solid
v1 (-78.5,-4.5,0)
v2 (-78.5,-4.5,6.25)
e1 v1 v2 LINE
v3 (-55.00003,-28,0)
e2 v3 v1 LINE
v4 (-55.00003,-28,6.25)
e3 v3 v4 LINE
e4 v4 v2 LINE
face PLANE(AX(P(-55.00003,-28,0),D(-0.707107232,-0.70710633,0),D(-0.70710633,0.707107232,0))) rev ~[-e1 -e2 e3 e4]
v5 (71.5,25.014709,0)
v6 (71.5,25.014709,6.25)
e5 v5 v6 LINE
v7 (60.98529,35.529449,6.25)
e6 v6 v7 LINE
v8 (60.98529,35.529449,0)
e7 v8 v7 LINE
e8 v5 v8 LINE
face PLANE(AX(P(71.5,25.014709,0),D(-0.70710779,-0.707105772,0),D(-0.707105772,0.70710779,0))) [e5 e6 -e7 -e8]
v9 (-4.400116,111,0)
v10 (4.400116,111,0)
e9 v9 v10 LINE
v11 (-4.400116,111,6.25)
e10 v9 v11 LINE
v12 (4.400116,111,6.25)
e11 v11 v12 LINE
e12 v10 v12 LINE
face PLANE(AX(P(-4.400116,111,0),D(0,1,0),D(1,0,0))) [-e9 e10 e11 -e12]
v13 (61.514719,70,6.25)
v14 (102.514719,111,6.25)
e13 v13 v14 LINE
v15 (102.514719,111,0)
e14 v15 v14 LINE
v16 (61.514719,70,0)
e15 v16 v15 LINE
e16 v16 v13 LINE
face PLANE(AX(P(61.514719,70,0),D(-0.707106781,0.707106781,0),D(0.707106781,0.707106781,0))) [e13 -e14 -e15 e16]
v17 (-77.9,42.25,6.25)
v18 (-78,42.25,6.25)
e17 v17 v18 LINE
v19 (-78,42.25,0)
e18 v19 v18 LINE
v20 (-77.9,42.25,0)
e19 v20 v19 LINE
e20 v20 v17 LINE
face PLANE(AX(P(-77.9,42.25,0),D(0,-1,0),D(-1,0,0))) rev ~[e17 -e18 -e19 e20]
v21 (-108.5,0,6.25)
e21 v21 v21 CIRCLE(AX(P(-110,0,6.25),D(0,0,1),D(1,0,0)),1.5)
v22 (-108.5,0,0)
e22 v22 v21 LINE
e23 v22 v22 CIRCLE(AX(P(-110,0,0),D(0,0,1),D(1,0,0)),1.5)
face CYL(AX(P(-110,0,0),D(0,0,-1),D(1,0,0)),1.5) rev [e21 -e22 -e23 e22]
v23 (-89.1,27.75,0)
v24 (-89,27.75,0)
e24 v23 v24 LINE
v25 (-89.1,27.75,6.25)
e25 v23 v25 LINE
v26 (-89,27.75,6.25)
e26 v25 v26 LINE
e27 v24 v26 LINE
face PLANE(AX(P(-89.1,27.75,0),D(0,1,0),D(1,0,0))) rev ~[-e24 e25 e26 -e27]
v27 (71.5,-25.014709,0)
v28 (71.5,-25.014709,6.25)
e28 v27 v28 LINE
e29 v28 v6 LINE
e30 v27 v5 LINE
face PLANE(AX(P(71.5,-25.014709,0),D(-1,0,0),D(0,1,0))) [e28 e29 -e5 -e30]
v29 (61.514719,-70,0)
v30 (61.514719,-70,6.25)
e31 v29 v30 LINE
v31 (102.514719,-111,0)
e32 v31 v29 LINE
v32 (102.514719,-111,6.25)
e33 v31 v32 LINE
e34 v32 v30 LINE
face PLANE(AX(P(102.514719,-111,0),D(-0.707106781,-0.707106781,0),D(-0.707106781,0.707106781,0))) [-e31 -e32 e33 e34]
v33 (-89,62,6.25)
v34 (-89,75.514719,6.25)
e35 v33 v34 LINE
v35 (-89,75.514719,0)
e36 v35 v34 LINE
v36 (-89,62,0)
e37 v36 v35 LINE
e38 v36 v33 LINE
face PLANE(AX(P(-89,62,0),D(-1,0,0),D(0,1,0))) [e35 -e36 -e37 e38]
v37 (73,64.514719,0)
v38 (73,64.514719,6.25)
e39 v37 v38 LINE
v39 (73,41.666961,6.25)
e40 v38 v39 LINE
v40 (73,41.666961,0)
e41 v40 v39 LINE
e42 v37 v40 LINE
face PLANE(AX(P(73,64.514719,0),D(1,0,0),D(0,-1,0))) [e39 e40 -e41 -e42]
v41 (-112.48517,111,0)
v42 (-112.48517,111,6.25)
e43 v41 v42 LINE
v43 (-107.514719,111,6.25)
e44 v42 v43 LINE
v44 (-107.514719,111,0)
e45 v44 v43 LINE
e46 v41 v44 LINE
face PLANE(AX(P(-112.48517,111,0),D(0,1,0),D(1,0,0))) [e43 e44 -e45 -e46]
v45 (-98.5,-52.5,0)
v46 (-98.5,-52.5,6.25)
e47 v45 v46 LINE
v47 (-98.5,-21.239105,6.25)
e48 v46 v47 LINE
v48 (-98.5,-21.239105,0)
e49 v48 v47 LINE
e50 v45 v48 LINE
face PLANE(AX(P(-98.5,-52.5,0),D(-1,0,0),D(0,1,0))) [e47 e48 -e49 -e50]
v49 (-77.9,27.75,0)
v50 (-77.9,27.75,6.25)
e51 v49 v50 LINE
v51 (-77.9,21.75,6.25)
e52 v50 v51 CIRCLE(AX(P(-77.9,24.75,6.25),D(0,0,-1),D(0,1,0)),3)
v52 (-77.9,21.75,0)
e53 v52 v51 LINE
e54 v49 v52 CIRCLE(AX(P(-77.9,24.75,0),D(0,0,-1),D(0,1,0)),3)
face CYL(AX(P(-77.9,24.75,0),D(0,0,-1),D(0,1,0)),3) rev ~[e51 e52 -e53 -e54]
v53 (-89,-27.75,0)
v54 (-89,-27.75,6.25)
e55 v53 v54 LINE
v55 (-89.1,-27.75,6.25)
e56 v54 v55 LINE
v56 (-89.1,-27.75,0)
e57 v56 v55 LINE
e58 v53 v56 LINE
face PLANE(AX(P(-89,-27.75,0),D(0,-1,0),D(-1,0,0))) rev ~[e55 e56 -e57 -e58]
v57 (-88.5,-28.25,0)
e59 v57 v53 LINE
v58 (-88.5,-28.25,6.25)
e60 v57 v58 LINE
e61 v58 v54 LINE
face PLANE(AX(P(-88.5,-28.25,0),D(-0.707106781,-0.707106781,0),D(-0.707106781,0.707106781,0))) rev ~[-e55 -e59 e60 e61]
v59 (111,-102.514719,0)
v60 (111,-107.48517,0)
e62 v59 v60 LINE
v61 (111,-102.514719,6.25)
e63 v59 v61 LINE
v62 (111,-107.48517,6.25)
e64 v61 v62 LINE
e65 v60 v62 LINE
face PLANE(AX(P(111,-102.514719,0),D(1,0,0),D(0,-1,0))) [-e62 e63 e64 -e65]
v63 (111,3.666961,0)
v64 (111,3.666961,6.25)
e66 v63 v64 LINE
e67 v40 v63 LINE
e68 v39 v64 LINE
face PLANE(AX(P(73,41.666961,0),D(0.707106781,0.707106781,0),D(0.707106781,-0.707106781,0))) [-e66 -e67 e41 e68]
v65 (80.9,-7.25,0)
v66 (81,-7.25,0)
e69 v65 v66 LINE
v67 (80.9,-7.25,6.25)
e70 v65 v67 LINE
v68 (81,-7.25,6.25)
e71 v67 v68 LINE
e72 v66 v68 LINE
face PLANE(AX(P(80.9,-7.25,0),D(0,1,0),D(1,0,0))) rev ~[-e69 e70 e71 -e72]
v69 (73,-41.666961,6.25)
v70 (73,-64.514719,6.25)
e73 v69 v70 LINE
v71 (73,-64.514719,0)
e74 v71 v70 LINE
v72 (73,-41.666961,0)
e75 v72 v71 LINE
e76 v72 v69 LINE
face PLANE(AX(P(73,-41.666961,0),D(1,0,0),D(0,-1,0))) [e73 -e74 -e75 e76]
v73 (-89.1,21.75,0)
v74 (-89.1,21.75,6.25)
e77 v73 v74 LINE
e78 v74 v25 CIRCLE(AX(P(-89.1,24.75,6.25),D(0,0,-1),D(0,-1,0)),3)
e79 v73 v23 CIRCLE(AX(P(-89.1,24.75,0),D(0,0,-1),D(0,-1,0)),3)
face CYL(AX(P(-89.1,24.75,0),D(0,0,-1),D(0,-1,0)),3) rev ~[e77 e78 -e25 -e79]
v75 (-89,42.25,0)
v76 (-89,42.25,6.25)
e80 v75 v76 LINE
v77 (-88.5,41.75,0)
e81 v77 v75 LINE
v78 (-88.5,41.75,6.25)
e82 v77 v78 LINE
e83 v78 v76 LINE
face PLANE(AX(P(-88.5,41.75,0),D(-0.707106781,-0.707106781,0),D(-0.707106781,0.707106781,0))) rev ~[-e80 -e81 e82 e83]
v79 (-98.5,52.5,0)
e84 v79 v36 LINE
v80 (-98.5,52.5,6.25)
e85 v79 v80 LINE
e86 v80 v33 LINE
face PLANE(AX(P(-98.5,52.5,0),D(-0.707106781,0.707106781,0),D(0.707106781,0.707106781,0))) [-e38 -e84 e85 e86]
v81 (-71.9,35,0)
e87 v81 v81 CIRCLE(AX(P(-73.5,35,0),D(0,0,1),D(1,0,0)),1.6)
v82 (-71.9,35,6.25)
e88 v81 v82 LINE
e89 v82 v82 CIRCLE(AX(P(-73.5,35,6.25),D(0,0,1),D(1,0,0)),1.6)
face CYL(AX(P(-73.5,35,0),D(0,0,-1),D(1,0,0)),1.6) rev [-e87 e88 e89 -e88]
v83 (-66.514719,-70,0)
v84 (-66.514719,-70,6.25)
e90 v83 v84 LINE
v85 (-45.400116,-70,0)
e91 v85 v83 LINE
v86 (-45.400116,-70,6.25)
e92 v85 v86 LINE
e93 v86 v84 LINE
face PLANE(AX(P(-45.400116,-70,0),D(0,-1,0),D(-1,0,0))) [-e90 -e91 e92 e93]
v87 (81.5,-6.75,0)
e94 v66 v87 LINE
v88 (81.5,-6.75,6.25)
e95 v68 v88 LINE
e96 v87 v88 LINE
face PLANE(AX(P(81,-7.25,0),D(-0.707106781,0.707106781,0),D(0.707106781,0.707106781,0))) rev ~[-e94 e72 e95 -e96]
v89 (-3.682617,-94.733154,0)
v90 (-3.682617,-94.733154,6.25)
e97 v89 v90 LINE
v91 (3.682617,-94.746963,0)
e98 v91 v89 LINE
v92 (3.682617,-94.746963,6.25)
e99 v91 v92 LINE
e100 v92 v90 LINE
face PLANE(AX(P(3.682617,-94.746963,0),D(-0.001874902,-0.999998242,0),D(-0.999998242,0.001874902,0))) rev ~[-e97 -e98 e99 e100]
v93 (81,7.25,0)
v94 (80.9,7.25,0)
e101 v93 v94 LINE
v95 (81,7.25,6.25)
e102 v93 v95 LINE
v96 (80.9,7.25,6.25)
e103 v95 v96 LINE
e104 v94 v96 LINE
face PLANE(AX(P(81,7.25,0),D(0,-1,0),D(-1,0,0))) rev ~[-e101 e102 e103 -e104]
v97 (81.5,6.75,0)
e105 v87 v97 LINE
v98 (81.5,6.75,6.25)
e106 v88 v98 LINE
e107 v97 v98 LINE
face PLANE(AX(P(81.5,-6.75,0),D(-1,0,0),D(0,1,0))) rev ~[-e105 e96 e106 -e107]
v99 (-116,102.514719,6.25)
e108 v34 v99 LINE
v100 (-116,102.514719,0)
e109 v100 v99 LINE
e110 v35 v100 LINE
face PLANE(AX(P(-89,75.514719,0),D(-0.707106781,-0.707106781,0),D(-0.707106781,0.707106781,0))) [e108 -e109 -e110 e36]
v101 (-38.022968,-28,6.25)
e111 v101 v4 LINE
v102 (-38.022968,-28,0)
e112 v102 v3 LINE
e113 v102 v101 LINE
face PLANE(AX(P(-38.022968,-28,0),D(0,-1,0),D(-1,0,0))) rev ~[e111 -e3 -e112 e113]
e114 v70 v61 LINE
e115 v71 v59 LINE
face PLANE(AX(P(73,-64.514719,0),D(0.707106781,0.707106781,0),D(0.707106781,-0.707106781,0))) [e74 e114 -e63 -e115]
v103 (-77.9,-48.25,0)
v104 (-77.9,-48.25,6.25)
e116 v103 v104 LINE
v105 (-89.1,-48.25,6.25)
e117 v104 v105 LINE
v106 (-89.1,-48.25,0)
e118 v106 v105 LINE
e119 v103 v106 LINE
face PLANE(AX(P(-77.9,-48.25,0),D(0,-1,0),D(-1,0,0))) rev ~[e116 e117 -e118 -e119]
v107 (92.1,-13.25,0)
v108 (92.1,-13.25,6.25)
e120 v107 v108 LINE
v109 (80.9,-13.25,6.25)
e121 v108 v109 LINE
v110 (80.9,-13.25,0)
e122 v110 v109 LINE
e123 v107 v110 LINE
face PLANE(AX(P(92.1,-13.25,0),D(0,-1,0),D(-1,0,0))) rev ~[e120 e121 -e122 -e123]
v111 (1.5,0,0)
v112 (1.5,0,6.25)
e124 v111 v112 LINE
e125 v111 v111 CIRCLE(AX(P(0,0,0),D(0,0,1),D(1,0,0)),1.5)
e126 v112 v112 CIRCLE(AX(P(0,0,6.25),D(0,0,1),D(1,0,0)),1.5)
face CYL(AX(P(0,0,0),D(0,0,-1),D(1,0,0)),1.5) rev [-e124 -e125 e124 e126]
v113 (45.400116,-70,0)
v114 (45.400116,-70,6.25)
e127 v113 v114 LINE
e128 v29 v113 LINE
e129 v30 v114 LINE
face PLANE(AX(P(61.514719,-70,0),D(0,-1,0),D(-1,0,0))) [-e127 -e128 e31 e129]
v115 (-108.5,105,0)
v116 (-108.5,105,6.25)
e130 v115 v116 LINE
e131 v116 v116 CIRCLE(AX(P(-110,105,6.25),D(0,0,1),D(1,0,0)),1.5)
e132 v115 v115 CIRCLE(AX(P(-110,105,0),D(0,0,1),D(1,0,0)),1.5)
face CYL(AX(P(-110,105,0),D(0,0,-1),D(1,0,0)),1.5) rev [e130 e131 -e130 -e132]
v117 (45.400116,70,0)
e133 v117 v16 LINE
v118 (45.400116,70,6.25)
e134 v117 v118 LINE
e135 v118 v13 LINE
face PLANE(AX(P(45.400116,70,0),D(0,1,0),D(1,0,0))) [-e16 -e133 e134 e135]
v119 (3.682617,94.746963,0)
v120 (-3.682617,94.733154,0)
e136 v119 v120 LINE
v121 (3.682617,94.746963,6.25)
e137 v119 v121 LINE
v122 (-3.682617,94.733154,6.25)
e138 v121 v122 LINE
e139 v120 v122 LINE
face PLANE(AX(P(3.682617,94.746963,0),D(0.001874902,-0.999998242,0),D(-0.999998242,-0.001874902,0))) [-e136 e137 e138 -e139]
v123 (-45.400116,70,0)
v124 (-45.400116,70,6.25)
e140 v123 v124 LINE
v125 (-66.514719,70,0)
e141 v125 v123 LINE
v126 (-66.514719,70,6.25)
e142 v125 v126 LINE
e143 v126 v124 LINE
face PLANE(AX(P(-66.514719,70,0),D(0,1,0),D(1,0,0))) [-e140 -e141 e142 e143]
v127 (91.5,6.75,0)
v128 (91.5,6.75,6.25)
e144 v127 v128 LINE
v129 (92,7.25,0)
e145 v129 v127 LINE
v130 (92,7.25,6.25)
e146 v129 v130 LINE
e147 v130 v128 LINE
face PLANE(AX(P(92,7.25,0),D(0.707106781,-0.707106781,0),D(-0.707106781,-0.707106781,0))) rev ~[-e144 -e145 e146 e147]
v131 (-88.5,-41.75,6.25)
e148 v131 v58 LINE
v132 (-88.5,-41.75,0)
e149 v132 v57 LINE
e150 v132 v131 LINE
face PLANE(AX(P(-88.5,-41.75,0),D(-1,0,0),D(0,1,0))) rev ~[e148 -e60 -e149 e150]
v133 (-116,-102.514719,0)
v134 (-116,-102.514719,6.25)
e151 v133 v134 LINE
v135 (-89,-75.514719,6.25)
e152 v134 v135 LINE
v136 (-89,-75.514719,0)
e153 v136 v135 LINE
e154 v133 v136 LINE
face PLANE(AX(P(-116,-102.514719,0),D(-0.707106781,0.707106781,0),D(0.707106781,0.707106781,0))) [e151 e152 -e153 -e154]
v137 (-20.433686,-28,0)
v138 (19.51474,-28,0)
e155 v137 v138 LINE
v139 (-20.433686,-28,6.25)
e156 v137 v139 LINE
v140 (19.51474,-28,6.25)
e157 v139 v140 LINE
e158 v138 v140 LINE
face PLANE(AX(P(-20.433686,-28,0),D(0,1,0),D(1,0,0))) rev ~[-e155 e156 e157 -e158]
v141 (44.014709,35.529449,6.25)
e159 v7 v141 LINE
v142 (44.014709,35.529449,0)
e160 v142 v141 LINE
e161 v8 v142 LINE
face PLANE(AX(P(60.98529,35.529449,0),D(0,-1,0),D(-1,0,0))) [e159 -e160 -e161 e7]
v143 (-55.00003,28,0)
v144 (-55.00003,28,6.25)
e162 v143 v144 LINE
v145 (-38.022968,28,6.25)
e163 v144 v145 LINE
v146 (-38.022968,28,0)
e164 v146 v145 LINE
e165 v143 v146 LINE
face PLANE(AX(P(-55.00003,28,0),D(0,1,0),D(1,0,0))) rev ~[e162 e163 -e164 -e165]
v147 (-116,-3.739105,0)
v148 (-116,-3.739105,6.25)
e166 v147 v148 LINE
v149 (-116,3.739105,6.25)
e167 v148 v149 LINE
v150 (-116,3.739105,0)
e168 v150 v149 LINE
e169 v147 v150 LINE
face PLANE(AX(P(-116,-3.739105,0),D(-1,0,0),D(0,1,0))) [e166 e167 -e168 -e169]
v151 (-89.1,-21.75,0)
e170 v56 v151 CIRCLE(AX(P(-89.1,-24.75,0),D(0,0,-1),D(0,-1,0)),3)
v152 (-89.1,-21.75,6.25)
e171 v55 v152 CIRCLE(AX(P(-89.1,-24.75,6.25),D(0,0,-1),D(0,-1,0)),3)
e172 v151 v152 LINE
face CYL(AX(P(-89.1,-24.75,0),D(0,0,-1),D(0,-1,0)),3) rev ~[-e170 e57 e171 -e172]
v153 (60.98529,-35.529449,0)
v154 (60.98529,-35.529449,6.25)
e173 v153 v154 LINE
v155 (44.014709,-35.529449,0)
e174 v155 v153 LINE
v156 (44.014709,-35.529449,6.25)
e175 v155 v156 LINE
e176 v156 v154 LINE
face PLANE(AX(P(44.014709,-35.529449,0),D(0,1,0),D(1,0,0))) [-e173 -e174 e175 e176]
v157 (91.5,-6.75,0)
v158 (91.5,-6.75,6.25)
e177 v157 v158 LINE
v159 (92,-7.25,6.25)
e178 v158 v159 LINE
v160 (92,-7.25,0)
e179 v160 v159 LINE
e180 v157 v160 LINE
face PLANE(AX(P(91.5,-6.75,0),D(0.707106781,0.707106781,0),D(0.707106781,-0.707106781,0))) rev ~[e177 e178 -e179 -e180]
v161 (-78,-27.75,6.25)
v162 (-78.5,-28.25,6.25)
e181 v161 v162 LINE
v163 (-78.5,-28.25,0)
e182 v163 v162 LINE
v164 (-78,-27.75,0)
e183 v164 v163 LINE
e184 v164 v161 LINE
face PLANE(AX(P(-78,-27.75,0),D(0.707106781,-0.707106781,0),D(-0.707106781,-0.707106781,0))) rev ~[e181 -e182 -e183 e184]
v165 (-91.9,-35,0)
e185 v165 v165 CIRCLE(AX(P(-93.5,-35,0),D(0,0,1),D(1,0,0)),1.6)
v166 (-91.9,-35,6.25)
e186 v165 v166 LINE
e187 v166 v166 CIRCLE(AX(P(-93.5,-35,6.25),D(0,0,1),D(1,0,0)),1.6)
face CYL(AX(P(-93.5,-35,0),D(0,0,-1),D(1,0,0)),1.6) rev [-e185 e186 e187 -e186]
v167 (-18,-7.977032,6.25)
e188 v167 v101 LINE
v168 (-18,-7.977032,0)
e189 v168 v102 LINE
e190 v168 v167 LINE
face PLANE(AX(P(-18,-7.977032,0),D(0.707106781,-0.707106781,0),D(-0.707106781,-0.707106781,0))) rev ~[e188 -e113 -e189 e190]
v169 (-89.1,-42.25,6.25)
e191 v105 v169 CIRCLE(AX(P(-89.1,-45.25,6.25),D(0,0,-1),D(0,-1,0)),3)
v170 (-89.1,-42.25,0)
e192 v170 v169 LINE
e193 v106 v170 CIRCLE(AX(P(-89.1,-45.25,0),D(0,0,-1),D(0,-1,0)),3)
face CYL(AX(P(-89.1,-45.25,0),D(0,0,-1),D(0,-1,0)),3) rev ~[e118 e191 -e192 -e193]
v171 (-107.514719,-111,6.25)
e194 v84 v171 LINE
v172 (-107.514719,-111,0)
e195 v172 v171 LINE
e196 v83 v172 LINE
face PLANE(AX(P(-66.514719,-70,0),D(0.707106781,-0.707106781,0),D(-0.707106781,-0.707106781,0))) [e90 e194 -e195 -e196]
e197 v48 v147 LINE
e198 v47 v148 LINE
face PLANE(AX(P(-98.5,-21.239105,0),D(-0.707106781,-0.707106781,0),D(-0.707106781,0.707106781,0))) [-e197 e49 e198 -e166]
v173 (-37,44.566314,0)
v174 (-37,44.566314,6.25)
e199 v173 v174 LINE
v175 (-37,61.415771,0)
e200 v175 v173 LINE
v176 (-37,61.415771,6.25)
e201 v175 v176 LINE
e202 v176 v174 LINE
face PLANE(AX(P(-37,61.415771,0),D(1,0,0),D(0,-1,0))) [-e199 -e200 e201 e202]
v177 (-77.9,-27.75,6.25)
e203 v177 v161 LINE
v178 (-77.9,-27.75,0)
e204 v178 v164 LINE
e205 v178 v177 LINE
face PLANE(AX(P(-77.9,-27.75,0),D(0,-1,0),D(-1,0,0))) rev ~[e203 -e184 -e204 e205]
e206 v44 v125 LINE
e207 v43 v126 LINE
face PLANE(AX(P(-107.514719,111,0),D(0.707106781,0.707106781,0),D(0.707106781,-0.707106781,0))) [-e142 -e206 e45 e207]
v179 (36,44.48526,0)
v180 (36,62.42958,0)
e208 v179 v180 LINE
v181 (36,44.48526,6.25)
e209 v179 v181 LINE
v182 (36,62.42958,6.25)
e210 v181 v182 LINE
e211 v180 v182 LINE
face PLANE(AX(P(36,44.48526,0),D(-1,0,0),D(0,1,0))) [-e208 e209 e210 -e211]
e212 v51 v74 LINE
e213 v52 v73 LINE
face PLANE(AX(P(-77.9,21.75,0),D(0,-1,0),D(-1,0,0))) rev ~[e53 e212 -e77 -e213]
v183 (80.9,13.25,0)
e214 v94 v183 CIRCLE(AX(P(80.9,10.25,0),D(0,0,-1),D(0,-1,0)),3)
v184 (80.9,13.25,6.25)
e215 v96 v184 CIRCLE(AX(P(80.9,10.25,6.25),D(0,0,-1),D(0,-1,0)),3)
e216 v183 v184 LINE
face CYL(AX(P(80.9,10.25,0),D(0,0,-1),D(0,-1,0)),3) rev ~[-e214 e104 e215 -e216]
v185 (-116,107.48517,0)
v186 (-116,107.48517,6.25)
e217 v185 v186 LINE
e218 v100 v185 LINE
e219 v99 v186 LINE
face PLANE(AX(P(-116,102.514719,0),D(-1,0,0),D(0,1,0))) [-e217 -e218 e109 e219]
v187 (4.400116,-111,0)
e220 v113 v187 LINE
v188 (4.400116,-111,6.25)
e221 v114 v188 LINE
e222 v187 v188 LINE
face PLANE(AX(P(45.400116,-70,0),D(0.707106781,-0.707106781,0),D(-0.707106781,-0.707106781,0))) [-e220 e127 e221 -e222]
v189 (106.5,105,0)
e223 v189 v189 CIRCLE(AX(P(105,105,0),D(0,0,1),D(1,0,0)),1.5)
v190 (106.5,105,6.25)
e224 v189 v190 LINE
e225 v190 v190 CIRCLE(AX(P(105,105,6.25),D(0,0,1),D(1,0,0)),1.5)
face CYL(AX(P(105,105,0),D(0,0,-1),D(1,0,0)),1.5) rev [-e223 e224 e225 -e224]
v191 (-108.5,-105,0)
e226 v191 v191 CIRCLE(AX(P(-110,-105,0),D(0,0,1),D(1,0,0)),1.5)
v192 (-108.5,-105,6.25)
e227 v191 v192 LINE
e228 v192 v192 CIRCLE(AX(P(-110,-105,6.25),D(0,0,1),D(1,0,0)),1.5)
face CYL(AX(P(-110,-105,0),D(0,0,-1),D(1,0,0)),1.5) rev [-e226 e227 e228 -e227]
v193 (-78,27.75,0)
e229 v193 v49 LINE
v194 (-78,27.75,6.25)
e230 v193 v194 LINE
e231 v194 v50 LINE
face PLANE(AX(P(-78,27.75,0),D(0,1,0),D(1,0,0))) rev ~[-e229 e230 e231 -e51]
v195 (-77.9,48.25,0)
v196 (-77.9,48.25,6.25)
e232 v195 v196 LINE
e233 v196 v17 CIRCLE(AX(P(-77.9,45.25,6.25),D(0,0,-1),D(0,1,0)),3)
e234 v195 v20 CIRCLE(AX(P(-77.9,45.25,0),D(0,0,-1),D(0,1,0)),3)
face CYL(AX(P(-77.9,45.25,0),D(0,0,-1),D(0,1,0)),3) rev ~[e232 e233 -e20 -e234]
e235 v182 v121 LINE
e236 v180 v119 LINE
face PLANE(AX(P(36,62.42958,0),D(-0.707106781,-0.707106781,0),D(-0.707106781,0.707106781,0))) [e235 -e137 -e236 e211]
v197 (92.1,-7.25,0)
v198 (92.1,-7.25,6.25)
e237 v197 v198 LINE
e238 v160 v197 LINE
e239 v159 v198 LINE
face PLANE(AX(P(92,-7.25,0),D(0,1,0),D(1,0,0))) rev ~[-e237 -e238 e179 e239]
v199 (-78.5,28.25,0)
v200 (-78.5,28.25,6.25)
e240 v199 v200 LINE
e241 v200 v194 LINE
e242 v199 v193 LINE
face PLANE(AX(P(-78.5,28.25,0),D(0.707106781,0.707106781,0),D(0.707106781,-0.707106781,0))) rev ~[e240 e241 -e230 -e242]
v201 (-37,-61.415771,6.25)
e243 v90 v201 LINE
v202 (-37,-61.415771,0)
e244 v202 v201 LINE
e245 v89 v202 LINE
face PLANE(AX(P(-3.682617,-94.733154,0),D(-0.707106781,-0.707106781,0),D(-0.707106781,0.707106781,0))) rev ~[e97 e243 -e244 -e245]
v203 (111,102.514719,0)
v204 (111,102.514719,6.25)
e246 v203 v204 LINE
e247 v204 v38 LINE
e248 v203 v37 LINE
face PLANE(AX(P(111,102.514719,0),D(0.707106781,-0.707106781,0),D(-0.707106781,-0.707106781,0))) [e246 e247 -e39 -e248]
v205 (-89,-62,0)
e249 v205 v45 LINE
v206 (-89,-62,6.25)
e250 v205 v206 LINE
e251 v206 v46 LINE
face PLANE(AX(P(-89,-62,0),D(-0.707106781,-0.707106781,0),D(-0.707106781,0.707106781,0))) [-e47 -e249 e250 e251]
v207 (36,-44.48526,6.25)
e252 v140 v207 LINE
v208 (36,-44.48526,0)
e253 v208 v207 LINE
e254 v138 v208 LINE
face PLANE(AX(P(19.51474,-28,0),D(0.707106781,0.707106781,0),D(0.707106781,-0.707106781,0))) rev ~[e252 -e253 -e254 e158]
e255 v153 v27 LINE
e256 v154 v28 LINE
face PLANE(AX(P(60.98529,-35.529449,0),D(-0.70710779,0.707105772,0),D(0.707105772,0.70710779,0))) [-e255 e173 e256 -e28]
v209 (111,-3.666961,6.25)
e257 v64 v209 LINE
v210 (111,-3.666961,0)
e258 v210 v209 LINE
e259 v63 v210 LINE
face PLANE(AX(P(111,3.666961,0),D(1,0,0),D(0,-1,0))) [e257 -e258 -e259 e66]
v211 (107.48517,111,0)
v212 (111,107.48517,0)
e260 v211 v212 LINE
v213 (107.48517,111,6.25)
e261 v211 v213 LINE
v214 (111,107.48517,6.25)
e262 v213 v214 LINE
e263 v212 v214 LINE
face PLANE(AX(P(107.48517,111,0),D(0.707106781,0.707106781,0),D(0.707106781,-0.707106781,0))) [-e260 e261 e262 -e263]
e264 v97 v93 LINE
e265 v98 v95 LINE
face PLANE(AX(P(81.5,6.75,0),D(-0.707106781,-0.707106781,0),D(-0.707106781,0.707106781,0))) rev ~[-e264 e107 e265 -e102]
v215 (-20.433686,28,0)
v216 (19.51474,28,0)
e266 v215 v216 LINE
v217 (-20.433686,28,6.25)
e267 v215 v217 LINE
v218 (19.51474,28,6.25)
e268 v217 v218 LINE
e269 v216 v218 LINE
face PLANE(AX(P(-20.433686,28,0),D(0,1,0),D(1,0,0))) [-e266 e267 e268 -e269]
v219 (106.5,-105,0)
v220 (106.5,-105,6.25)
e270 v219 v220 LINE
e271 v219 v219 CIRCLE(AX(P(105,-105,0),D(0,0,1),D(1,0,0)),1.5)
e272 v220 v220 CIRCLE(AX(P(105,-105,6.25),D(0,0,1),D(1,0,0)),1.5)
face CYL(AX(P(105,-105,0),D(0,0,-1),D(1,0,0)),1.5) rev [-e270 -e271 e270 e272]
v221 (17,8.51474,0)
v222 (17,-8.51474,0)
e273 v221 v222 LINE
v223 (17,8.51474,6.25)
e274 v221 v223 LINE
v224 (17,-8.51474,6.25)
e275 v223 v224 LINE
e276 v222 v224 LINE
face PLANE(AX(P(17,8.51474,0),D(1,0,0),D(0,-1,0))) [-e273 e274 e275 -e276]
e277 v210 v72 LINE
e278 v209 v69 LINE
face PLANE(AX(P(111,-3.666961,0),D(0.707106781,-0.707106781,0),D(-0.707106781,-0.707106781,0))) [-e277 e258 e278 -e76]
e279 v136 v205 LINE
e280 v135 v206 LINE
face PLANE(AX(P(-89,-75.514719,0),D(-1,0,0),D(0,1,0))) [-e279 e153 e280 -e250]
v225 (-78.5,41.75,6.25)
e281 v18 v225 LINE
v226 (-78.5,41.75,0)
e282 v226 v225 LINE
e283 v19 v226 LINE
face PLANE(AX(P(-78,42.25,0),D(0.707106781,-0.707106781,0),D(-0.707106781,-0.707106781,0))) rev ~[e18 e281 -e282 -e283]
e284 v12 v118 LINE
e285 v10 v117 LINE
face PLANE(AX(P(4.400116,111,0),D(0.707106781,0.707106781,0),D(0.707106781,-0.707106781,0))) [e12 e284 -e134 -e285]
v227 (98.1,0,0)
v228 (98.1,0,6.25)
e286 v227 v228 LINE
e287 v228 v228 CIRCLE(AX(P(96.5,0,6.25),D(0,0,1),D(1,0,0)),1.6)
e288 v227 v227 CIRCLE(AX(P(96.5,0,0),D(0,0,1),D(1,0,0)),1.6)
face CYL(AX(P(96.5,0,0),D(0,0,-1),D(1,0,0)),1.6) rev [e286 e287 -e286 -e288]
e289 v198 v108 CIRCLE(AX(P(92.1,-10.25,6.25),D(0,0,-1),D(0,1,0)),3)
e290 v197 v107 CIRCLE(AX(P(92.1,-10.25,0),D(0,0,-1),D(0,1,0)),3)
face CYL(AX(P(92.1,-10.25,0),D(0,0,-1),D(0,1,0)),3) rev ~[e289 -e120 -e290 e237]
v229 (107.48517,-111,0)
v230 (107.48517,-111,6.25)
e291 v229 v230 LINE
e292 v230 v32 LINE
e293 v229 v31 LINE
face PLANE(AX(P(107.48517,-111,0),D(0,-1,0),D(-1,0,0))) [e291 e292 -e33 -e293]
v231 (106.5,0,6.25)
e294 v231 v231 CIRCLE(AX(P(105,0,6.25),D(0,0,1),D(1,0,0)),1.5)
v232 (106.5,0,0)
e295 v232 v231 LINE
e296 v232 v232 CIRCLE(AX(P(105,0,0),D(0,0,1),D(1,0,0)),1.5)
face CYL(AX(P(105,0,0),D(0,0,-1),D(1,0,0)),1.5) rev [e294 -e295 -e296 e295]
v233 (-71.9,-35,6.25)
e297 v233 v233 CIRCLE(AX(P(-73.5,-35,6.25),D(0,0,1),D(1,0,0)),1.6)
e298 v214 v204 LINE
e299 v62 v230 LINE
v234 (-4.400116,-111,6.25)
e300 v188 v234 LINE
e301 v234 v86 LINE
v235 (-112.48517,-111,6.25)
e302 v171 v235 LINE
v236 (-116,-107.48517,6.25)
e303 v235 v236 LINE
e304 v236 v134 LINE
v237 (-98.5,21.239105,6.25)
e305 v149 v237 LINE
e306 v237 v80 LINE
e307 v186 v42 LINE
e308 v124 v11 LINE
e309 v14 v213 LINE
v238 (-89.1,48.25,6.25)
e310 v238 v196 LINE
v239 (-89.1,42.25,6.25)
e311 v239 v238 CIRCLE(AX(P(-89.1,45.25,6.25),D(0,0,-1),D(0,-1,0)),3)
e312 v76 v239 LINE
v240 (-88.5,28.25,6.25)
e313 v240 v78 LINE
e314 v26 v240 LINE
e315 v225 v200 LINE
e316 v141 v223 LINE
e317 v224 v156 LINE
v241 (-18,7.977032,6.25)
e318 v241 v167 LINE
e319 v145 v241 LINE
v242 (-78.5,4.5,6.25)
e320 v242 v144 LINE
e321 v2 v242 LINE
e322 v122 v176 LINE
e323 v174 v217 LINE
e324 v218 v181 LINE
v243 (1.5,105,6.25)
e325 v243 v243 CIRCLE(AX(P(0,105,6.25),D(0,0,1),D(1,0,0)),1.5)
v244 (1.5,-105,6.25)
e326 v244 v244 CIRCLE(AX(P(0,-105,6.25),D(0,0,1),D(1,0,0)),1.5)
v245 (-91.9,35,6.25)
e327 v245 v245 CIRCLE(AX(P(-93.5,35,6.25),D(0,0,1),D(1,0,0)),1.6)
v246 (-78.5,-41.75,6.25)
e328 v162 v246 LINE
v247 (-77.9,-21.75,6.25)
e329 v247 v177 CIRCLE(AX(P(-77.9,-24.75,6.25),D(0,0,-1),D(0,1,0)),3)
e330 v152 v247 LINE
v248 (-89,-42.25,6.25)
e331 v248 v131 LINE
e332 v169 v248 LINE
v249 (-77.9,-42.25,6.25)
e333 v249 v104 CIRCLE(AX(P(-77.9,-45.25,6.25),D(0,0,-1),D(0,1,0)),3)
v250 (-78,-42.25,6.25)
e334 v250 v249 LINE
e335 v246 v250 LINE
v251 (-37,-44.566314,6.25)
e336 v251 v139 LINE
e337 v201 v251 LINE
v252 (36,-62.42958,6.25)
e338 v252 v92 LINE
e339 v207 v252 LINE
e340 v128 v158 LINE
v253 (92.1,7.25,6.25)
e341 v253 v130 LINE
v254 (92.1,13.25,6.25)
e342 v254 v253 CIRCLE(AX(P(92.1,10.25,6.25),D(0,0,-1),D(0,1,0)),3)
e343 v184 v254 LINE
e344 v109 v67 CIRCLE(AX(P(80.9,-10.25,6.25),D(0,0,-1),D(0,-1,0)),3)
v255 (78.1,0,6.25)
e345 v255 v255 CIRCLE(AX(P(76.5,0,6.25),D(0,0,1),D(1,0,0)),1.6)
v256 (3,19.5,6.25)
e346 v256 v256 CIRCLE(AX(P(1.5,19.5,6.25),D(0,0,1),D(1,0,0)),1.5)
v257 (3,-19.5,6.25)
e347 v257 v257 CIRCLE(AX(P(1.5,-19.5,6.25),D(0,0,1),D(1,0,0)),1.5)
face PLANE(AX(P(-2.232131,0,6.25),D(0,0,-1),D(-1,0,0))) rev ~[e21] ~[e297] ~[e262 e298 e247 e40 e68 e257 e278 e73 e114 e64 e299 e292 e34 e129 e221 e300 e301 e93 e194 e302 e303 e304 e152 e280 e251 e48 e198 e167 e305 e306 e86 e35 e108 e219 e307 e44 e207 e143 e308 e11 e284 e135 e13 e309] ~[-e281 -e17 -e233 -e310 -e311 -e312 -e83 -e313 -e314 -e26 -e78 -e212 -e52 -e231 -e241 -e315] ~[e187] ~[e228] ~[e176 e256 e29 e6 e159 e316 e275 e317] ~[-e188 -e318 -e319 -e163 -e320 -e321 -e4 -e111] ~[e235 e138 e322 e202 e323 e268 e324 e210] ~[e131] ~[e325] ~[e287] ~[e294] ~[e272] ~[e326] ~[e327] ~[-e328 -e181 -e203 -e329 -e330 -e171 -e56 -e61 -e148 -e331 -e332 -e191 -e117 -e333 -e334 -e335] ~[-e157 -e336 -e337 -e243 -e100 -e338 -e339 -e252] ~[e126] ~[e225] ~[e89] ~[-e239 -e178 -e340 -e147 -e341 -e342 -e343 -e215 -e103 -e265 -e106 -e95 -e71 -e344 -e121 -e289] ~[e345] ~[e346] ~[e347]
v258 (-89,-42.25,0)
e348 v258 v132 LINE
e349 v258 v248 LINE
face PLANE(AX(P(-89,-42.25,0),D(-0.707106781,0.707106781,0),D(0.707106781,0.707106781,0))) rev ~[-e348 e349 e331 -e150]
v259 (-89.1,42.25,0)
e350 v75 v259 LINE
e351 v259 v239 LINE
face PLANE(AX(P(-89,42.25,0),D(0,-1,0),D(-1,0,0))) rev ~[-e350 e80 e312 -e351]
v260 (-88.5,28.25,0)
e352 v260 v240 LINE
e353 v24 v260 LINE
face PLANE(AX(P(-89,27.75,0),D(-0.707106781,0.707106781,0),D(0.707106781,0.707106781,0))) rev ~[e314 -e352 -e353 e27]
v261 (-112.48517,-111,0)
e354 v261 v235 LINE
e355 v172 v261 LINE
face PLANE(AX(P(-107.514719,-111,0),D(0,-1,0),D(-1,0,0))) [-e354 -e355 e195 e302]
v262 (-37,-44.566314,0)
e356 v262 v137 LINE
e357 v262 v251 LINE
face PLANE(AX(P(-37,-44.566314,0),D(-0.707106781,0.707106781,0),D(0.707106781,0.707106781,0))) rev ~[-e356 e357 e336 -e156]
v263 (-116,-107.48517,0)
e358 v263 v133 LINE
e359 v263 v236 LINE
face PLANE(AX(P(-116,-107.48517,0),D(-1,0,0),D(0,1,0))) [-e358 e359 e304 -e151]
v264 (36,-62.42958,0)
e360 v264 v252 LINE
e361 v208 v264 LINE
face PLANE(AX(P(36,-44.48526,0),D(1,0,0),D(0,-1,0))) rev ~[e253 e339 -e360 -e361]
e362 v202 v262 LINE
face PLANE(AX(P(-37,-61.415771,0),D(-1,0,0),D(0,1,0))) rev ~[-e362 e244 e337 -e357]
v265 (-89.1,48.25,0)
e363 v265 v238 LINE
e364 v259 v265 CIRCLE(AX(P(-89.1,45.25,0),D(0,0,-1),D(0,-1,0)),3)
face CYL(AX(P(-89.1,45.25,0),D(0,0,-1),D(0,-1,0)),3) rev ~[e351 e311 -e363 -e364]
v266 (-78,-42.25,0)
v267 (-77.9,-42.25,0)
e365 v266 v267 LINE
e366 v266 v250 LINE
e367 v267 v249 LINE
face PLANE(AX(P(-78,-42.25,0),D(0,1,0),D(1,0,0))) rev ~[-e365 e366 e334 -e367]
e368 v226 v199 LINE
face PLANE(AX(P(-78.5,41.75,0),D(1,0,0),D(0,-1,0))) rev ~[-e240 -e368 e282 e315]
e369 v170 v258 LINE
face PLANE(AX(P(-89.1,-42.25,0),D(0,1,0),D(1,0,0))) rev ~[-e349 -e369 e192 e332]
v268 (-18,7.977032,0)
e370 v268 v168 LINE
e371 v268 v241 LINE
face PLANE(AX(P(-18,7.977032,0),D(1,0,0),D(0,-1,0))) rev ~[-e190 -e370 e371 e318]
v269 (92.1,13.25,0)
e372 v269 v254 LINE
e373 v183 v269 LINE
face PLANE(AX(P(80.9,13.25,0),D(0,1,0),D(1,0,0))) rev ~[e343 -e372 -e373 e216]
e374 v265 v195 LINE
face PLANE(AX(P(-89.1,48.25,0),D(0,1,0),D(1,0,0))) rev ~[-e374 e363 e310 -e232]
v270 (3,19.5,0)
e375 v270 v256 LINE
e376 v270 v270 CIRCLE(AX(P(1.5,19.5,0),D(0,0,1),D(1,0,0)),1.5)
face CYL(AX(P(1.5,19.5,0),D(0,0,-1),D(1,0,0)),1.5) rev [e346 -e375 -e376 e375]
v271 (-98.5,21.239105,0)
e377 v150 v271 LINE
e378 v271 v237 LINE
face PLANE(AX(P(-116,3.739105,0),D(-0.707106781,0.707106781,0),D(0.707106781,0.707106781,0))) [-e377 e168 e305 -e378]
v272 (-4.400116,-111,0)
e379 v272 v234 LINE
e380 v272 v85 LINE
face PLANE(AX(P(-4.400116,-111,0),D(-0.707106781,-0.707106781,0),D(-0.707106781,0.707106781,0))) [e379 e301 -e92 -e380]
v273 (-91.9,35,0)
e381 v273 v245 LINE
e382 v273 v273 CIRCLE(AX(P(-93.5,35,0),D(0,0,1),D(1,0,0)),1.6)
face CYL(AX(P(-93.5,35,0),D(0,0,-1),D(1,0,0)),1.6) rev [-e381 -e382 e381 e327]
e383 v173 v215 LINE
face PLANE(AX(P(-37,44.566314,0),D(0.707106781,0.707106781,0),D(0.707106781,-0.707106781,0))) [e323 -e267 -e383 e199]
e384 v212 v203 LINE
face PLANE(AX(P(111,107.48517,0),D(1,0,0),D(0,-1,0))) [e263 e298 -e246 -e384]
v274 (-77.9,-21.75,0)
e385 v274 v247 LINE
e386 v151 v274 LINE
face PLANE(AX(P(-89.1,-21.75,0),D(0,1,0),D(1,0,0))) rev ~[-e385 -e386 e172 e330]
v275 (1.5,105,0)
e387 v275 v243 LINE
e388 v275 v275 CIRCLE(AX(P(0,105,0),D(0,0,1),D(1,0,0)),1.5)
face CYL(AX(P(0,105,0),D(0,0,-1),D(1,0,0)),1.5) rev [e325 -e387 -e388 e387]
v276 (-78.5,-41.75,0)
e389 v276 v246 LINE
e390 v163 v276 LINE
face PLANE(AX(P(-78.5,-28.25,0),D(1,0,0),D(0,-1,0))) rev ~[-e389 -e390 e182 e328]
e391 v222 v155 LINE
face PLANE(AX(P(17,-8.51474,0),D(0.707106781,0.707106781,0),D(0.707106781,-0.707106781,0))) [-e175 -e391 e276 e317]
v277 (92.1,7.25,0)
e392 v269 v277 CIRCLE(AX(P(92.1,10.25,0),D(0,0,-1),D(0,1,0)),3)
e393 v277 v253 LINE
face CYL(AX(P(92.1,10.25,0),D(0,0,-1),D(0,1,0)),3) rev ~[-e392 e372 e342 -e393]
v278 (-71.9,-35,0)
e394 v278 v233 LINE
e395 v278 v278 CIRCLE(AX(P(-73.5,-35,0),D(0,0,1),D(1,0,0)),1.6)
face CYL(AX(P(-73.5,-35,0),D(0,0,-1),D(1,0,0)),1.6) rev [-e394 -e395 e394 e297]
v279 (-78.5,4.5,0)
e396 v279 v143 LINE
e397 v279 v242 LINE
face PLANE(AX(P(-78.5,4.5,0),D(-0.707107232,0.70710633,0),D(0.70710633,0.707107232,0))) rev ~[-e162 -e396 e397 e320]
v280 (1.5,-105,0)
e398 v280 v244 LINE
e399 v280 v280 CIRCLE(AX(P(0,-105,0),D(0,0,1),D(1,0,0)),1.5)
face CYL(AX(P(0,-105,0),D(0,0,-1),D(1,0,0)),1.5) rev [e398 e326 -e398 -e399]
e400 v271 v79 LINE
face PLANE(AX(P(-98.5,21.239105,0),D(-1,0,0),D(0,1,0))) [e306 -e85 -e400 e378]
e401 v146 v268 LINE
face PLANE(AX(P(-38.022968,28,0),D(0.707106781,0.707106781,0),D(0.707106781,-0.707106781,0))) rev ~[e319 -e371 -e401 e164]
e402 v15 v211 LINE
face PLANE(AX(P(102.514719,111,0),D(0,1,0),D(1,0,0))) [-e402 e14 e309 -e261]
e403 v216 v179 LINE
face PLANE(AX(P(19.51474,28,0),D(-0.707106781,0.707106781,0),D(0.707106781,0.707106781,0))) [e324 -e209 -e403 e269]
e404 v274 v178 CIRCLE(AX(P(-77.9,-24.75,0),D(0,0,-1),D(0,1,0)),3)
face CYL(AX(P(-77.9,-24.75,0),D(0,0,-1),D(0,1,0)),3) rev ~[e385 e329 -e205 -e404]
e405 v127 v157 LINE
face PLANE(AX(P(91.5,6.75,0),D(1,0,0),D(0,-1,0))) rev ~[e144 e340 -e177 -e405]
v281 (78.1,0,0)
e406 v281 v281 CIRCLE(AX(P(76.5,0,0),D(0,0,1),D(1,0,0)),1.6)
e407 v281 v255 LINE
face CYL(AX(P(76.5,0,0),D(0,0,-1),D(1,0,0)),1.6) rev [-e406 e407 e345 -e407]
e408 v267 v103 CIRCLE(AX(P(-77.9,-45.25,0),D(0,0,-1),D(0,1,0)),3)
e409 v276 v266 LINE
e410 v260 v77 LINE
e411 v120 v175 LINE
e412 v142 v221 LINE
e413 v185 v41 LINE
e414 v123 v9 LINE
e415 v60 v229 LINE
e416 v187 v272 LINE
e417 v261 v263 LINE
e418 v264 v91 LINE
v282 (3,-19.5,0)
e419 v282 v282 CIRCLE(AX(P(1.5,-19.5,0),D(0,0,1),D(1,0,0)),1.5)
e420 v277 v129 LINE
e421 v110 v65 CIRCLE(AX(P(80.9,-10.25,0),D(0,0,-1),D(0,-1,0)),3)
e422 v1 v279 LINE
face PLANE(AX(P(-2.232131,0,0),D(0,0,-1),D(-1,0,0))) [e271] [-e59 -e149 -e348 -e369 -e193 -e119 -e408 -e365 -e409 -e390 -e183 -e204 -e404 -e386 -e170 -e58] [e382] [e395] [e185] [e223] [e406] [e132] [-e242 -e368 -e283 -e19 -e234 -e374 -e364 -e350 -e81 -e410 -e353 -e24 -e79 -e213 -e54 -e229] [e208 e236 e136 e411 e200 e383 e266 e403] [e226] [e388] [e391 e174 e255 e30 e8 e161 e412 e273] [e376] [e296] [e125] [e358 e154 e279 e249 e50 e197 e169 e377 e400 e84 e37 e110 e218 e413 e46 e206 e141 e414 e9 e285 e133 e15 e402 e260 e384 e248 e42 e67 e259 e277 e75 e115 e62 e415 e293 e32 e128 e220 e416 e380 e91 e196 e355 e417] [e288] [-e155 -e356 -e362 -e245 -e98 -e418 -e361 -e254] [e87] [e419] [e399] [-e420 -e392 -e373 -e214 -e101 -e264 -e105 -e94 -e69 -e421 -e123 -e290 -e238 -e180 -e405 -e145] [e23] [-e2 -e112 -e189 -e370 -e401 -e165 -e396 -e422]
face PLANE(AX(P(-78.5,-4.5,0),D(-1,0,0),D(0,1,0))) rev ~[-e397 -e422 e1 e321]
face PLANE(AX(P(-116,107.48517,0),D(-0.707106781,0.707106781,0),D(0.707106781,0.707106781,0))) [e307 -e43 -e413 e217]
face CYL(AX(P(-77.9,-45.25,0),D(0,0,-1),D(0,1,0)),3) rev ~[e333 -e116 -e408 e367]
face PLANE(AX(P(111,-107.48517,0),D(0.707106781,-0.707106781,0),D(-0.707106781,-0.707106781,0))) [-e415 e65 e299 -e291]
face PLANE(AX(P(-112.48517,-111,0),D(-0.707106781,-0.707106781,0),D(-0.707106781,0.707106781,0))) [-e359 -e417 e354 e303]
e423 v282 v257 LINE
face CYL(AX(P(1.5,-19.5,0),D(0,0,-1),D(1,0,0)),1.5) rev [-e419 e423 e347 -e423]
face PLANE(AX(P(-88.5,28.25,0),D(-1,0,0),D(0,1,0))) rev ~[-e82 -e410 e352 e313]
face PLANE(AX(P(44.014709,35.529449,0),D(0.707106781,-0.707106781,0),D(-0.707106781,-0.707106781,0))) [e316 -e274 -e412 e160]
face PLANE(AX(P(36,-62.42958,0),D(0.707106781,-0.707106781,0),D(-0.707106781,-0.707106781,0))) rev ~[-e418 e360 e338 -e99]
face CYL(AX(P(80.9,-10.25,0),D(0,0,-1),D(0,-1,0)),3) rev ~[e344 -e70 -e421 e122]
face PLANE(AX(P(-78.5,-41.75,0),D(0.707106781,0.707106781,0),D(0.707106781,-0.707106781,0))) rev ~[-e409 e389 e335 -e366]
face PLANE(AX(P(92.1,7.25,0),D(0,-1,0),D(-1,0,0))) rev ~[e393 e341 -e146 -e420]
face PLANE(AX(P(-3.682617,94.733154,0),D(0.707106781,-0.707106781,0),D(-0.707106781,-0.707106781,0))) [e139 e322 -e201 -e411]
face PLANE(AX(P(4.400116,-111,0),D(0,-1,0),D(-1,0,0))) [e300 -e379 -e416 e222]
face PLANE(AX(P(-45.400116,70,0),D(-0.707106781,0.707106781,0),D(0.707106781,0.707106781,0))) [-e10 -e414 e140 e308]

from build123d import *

# Parameters (mm, degrees)
MODEL_R             = 1.5
MODEL_R_2           = 1.6
BOSS_EXTRUDE1_DEPTH = 6.25


with BuildPart() as part:
    # Model → Boss-Extrude1 (new body)
    with BuildSketch(Plane.XY):
        Polygon((4.400116, 111), (45.400116, 70), (61.514718626, 70), (102.514718626, 111), (107.485169777, 111), (111, 107.485169777), (111, 102.514718626), (73, 64.514718626), (73, 41.666961), (111, 3.666961), (111, -3.666961), (73, -41.666961), (73, -64.514718626), (111, -102.514718626), (111, -107.485169777), (107.485169777, -111), (102.514718626, -111), (61.514718626, -70), (45.400116, -70), (4.400116, -111), (-4.400116, -111), (-45.400116, -70), (-66.514718626, -70), (-107.514718626, -111), (-112.485169777, -111), (-116, -107.485169777), (-116, -102.514718626), (-89, -75.514718626), (-89, -62), (-98.5, -52.5), (-98.5, -21.239105), (-116, -3.739105), (-116, 3.739105), (-98.5, 21.239105), (-98.5, 52.5), (-89, 62), (-89, 75.514718626), (-116, 102.514718626), (-116, 107.485169777), (-112.485169777, 111), (-107.514718626, 111), (-66.514718626, 70), (-45.400116, 70), (-4.400116, 111), align=None)
        with Locations((0, -105)):
            Circle(MODEL_R, mode=Mode.SUBTRACT)
        with Locations((0, 105)):
            Circle(MODEL_R, mode=Mode.SUBTRACT)
        with Locations((105, -105)):
            Circle(MODEL_R, mode=Mode.SUBTRACT)
        with Locations((-110, 105)):
            Circle(MODEL_R, mode=Mode.SUBTRACT)
        with Locations((105, 105)):
            Circle(MODEL_R, mode=Mode.SUBTRACT)
        with Locations((-110, 0)):
            Circle(MODEL_R, mode=Mode.SUBTRACT)
        Circle(MODEL_R, mode=Mode.SUBTRACT)
        with Locations((105, 0)):
            Circle(MODEL_R, mode=Mode.SUBTRACT)
        with Locations((76.5, 0)):
            Circle(MODEL_R_2, mode=Mode.SUBTRACT)
        with Locations((96.5, 0)):
            Circle(MODEL_R_2, mode=Mode.SUBTRACT)
        with Locations((-73.5, 35)):
            Circle(MODEL_R_2, mode=Mode.SUBTRACT)
        with Locations((-73.5, -35)):
            Circle(MODEL_R_2, mode=Mode.SUBTRACT)
        with Locations((-93.5, 35)):
            Circle(MODEL_R_2, mode=Mode.SUBTRACT)
        with Locations((-93.5, -35)):
            Circle(MODEL_R_2, mode=Mode.SUBTRACT)
        with Locations((-110, -105)):
            Circle(MODEL_R, mode=Mode.SUBTRACT)
        with Locations((1.5, -19.5)):
            Circle(MODEL_R, mode=Mode.SUBTRACT)
        with Locations((1.5, 19.5)):
            Circle(MODEL_R, mode=Mode.SUBTRACT)
        Polygon((-18, -7.97703218), (-38.02296782, -28), (-55.000029993, -28), (-78.5, -4.5), (-78.5, 4.5), (-55.000029993, 28), (-38.02296782, 28), (-18, 7.97703218), align=None, mode=Mode.SUBTRACT)
        Polygon((71.5, 25.014709), (60.98529, 35.529449), (44.014709, 35.529449), (17, 8.51474), (17, -8.51474), (44.014709, -35.529449), (60.98529, -35.529449), (71.5, -25.014709), align=None, mode=Mode.SUBTRACT)
        Polygon((-37, 61.415771), (-37, 44.566314), (-20.433686, 28), (19.51474, 28), (36, 44.48526), (36, 62.429580116), (3.682617, 94.746963116), (-3.682617, 94.733154), align=None, mode=Mode.SUBTRACT)
        Polygon((-37, -61.415771), (-37, -44.566314), (-20.433686, -28), (19.51474, -28), (36, -44.48526), (36, -62.429580116), (3.682617, -94.746963116), (-3.682617, -94.733154), align=None, mode=Mode.SUBTRACT)
        with BuildLine():
            Line((-78.499999987, 41.75), (-78.499999987, 28.25))
            Line((-78.499999987, 28.25), (-77.999999987, 27.75))
            Line((-77.999999987, 27.75), (-77.899999843, 27.75))
            ThreePointArc((-77.899999843, 27.75), (-74.899999843, 24.75), (-77.899999843, 21.75))
            Line((-77.899999843, 21.75), (-89.100000157, 21.75))
            ThreePointArc((-89.100000157, 21.75), (-92.100000157, 24.75), (-89.100000157, 27.75))
            Line((-89.100000157, 27.75), (-89.000000013, 27.75))
            Line((-89.000000013, 27.75), (-88.500000013, 28.25))
            Line((-88.500000013, 28.25), (-88.500000013, 41.75))
            Line((-88.500000013, 41.75), (-89.000000013, 42.25))
            Line((-89.000000013, 42.25), (-89.100000157, 42.25))
            ThreePointArc((-89.100000157, 42.25), (-92.100000157, 45.25), (-89.100000157, 48.25))
            Line((-89.100000157, 48.25), (-77.899999843, 48.25))
            ThreePointArc((-77.899999843, 48.25), (-74.899999843, 45.25), (-77.899999843, 42.25))
            Line((-77.899999843, 42.25), (-77.999999987, 42.25))
            Line((-77.999999987, 42.25), (-78.499999987, 41.75))
        make_face(mode=Mode.SUBTRACT)
        with BuildLine():
            Line((91.500000013, 6.75), (91.500000013, -6.75))
            Line((91.500000013, -6.75), (92.000000013, -7.25))
            Line((92.000000013, -7.25), (92.100000157, -7.25))
            ThreePointArc((92.100000157, -7.25), (95.100000157, -10.25), (92.100000157, -13.25))
            Line((92.100000157, -13.25), (80.899999843, -13.25))
            ThreePointArc((80.899999843, -13.25), (77.899999843, -10.25), (80.899999843, -7.25))
            Line((80.899999843, -7.25), (80.999999987, -7.25))
            Line((80.999999987, -7.25), (81.499999987, -6.75))
            Line((81.499999987, -6.75), (81.499999987, 6.75))
            Line((81.499999987, 6.75), (80.999999987, 7.25))
            Line((80.999999987, 7.25), (80.899999843, 7.25))
            ThreePointArc((80.899999843, 7.25), (77.899999843, 10.25), (80.899999843, 13.25))
            Line((80.899999843, 13.25), (92.100000157, 13.25))
            ThreePointArc((92.100000157, 13.25), (95.100000157, 10.25), (92.100000157, 7.25))
            Line((92.100000157, 7.25), (92.000000013, 7.25))
            Line((92.000000013, 7.25), (91.500000013, 6.75))
        make_face(mode=Mode.SUBTRACT)
        with BuildLine():
            Line((-78.499999987, -28.25), (-78.499999987, -41.75))
            Line((-78.499999987, -41.75), (-77.999999987, -42.25))
            Line((-77.999999987, -42.25), (-77.899999843, -42.25))
            ThreePointArc((-77.899999843, -42.25), (-74.899999843, -45.25), (-77.899999843, -48.25))
            Line((-77.899999843, -48.25), (-89.100000157, -48.25))
            ThreePointArc((-89.100000157, -48.25), (-92.100000157, -45.25), (-89.100000157, -42.25))
            Line((-89.100000157, -42.25), (-89.000000013, -42.25))
            Line((-89.000000013, -42.25), (-88.500000013, -41.75))
            Line((-88.500000013, -41.75), (-88.500000013, -28.25))
            Line((-88.500000013, -28.25), (-89.000000013, -27.75))
            Line((-89.000000013, -27.75), (-89.100000157, -27.75))
            ThreePointArc((-89.100000157, -27.75), (-92.100000157, -24.75), (-89.100000157, -21.75))
            Line((-89.100000157, -21.75), (-77.899999843, -21.75))
            ThreePointArc((-77.899999843, -21.75), (-74.899999843, -24.75), (-77.899999843, -27.75))
            Line((-77.899999843, -27.75), (-77.999999987, -27.75))
            Line((-77.999999987, -27.75), (-78.499999987, -28.25))
        make_face(mode=Mode.SUBTRACT)
    extrude(amount=BOSS_EXTRUDE1_DEPTH)


solid = part.part
